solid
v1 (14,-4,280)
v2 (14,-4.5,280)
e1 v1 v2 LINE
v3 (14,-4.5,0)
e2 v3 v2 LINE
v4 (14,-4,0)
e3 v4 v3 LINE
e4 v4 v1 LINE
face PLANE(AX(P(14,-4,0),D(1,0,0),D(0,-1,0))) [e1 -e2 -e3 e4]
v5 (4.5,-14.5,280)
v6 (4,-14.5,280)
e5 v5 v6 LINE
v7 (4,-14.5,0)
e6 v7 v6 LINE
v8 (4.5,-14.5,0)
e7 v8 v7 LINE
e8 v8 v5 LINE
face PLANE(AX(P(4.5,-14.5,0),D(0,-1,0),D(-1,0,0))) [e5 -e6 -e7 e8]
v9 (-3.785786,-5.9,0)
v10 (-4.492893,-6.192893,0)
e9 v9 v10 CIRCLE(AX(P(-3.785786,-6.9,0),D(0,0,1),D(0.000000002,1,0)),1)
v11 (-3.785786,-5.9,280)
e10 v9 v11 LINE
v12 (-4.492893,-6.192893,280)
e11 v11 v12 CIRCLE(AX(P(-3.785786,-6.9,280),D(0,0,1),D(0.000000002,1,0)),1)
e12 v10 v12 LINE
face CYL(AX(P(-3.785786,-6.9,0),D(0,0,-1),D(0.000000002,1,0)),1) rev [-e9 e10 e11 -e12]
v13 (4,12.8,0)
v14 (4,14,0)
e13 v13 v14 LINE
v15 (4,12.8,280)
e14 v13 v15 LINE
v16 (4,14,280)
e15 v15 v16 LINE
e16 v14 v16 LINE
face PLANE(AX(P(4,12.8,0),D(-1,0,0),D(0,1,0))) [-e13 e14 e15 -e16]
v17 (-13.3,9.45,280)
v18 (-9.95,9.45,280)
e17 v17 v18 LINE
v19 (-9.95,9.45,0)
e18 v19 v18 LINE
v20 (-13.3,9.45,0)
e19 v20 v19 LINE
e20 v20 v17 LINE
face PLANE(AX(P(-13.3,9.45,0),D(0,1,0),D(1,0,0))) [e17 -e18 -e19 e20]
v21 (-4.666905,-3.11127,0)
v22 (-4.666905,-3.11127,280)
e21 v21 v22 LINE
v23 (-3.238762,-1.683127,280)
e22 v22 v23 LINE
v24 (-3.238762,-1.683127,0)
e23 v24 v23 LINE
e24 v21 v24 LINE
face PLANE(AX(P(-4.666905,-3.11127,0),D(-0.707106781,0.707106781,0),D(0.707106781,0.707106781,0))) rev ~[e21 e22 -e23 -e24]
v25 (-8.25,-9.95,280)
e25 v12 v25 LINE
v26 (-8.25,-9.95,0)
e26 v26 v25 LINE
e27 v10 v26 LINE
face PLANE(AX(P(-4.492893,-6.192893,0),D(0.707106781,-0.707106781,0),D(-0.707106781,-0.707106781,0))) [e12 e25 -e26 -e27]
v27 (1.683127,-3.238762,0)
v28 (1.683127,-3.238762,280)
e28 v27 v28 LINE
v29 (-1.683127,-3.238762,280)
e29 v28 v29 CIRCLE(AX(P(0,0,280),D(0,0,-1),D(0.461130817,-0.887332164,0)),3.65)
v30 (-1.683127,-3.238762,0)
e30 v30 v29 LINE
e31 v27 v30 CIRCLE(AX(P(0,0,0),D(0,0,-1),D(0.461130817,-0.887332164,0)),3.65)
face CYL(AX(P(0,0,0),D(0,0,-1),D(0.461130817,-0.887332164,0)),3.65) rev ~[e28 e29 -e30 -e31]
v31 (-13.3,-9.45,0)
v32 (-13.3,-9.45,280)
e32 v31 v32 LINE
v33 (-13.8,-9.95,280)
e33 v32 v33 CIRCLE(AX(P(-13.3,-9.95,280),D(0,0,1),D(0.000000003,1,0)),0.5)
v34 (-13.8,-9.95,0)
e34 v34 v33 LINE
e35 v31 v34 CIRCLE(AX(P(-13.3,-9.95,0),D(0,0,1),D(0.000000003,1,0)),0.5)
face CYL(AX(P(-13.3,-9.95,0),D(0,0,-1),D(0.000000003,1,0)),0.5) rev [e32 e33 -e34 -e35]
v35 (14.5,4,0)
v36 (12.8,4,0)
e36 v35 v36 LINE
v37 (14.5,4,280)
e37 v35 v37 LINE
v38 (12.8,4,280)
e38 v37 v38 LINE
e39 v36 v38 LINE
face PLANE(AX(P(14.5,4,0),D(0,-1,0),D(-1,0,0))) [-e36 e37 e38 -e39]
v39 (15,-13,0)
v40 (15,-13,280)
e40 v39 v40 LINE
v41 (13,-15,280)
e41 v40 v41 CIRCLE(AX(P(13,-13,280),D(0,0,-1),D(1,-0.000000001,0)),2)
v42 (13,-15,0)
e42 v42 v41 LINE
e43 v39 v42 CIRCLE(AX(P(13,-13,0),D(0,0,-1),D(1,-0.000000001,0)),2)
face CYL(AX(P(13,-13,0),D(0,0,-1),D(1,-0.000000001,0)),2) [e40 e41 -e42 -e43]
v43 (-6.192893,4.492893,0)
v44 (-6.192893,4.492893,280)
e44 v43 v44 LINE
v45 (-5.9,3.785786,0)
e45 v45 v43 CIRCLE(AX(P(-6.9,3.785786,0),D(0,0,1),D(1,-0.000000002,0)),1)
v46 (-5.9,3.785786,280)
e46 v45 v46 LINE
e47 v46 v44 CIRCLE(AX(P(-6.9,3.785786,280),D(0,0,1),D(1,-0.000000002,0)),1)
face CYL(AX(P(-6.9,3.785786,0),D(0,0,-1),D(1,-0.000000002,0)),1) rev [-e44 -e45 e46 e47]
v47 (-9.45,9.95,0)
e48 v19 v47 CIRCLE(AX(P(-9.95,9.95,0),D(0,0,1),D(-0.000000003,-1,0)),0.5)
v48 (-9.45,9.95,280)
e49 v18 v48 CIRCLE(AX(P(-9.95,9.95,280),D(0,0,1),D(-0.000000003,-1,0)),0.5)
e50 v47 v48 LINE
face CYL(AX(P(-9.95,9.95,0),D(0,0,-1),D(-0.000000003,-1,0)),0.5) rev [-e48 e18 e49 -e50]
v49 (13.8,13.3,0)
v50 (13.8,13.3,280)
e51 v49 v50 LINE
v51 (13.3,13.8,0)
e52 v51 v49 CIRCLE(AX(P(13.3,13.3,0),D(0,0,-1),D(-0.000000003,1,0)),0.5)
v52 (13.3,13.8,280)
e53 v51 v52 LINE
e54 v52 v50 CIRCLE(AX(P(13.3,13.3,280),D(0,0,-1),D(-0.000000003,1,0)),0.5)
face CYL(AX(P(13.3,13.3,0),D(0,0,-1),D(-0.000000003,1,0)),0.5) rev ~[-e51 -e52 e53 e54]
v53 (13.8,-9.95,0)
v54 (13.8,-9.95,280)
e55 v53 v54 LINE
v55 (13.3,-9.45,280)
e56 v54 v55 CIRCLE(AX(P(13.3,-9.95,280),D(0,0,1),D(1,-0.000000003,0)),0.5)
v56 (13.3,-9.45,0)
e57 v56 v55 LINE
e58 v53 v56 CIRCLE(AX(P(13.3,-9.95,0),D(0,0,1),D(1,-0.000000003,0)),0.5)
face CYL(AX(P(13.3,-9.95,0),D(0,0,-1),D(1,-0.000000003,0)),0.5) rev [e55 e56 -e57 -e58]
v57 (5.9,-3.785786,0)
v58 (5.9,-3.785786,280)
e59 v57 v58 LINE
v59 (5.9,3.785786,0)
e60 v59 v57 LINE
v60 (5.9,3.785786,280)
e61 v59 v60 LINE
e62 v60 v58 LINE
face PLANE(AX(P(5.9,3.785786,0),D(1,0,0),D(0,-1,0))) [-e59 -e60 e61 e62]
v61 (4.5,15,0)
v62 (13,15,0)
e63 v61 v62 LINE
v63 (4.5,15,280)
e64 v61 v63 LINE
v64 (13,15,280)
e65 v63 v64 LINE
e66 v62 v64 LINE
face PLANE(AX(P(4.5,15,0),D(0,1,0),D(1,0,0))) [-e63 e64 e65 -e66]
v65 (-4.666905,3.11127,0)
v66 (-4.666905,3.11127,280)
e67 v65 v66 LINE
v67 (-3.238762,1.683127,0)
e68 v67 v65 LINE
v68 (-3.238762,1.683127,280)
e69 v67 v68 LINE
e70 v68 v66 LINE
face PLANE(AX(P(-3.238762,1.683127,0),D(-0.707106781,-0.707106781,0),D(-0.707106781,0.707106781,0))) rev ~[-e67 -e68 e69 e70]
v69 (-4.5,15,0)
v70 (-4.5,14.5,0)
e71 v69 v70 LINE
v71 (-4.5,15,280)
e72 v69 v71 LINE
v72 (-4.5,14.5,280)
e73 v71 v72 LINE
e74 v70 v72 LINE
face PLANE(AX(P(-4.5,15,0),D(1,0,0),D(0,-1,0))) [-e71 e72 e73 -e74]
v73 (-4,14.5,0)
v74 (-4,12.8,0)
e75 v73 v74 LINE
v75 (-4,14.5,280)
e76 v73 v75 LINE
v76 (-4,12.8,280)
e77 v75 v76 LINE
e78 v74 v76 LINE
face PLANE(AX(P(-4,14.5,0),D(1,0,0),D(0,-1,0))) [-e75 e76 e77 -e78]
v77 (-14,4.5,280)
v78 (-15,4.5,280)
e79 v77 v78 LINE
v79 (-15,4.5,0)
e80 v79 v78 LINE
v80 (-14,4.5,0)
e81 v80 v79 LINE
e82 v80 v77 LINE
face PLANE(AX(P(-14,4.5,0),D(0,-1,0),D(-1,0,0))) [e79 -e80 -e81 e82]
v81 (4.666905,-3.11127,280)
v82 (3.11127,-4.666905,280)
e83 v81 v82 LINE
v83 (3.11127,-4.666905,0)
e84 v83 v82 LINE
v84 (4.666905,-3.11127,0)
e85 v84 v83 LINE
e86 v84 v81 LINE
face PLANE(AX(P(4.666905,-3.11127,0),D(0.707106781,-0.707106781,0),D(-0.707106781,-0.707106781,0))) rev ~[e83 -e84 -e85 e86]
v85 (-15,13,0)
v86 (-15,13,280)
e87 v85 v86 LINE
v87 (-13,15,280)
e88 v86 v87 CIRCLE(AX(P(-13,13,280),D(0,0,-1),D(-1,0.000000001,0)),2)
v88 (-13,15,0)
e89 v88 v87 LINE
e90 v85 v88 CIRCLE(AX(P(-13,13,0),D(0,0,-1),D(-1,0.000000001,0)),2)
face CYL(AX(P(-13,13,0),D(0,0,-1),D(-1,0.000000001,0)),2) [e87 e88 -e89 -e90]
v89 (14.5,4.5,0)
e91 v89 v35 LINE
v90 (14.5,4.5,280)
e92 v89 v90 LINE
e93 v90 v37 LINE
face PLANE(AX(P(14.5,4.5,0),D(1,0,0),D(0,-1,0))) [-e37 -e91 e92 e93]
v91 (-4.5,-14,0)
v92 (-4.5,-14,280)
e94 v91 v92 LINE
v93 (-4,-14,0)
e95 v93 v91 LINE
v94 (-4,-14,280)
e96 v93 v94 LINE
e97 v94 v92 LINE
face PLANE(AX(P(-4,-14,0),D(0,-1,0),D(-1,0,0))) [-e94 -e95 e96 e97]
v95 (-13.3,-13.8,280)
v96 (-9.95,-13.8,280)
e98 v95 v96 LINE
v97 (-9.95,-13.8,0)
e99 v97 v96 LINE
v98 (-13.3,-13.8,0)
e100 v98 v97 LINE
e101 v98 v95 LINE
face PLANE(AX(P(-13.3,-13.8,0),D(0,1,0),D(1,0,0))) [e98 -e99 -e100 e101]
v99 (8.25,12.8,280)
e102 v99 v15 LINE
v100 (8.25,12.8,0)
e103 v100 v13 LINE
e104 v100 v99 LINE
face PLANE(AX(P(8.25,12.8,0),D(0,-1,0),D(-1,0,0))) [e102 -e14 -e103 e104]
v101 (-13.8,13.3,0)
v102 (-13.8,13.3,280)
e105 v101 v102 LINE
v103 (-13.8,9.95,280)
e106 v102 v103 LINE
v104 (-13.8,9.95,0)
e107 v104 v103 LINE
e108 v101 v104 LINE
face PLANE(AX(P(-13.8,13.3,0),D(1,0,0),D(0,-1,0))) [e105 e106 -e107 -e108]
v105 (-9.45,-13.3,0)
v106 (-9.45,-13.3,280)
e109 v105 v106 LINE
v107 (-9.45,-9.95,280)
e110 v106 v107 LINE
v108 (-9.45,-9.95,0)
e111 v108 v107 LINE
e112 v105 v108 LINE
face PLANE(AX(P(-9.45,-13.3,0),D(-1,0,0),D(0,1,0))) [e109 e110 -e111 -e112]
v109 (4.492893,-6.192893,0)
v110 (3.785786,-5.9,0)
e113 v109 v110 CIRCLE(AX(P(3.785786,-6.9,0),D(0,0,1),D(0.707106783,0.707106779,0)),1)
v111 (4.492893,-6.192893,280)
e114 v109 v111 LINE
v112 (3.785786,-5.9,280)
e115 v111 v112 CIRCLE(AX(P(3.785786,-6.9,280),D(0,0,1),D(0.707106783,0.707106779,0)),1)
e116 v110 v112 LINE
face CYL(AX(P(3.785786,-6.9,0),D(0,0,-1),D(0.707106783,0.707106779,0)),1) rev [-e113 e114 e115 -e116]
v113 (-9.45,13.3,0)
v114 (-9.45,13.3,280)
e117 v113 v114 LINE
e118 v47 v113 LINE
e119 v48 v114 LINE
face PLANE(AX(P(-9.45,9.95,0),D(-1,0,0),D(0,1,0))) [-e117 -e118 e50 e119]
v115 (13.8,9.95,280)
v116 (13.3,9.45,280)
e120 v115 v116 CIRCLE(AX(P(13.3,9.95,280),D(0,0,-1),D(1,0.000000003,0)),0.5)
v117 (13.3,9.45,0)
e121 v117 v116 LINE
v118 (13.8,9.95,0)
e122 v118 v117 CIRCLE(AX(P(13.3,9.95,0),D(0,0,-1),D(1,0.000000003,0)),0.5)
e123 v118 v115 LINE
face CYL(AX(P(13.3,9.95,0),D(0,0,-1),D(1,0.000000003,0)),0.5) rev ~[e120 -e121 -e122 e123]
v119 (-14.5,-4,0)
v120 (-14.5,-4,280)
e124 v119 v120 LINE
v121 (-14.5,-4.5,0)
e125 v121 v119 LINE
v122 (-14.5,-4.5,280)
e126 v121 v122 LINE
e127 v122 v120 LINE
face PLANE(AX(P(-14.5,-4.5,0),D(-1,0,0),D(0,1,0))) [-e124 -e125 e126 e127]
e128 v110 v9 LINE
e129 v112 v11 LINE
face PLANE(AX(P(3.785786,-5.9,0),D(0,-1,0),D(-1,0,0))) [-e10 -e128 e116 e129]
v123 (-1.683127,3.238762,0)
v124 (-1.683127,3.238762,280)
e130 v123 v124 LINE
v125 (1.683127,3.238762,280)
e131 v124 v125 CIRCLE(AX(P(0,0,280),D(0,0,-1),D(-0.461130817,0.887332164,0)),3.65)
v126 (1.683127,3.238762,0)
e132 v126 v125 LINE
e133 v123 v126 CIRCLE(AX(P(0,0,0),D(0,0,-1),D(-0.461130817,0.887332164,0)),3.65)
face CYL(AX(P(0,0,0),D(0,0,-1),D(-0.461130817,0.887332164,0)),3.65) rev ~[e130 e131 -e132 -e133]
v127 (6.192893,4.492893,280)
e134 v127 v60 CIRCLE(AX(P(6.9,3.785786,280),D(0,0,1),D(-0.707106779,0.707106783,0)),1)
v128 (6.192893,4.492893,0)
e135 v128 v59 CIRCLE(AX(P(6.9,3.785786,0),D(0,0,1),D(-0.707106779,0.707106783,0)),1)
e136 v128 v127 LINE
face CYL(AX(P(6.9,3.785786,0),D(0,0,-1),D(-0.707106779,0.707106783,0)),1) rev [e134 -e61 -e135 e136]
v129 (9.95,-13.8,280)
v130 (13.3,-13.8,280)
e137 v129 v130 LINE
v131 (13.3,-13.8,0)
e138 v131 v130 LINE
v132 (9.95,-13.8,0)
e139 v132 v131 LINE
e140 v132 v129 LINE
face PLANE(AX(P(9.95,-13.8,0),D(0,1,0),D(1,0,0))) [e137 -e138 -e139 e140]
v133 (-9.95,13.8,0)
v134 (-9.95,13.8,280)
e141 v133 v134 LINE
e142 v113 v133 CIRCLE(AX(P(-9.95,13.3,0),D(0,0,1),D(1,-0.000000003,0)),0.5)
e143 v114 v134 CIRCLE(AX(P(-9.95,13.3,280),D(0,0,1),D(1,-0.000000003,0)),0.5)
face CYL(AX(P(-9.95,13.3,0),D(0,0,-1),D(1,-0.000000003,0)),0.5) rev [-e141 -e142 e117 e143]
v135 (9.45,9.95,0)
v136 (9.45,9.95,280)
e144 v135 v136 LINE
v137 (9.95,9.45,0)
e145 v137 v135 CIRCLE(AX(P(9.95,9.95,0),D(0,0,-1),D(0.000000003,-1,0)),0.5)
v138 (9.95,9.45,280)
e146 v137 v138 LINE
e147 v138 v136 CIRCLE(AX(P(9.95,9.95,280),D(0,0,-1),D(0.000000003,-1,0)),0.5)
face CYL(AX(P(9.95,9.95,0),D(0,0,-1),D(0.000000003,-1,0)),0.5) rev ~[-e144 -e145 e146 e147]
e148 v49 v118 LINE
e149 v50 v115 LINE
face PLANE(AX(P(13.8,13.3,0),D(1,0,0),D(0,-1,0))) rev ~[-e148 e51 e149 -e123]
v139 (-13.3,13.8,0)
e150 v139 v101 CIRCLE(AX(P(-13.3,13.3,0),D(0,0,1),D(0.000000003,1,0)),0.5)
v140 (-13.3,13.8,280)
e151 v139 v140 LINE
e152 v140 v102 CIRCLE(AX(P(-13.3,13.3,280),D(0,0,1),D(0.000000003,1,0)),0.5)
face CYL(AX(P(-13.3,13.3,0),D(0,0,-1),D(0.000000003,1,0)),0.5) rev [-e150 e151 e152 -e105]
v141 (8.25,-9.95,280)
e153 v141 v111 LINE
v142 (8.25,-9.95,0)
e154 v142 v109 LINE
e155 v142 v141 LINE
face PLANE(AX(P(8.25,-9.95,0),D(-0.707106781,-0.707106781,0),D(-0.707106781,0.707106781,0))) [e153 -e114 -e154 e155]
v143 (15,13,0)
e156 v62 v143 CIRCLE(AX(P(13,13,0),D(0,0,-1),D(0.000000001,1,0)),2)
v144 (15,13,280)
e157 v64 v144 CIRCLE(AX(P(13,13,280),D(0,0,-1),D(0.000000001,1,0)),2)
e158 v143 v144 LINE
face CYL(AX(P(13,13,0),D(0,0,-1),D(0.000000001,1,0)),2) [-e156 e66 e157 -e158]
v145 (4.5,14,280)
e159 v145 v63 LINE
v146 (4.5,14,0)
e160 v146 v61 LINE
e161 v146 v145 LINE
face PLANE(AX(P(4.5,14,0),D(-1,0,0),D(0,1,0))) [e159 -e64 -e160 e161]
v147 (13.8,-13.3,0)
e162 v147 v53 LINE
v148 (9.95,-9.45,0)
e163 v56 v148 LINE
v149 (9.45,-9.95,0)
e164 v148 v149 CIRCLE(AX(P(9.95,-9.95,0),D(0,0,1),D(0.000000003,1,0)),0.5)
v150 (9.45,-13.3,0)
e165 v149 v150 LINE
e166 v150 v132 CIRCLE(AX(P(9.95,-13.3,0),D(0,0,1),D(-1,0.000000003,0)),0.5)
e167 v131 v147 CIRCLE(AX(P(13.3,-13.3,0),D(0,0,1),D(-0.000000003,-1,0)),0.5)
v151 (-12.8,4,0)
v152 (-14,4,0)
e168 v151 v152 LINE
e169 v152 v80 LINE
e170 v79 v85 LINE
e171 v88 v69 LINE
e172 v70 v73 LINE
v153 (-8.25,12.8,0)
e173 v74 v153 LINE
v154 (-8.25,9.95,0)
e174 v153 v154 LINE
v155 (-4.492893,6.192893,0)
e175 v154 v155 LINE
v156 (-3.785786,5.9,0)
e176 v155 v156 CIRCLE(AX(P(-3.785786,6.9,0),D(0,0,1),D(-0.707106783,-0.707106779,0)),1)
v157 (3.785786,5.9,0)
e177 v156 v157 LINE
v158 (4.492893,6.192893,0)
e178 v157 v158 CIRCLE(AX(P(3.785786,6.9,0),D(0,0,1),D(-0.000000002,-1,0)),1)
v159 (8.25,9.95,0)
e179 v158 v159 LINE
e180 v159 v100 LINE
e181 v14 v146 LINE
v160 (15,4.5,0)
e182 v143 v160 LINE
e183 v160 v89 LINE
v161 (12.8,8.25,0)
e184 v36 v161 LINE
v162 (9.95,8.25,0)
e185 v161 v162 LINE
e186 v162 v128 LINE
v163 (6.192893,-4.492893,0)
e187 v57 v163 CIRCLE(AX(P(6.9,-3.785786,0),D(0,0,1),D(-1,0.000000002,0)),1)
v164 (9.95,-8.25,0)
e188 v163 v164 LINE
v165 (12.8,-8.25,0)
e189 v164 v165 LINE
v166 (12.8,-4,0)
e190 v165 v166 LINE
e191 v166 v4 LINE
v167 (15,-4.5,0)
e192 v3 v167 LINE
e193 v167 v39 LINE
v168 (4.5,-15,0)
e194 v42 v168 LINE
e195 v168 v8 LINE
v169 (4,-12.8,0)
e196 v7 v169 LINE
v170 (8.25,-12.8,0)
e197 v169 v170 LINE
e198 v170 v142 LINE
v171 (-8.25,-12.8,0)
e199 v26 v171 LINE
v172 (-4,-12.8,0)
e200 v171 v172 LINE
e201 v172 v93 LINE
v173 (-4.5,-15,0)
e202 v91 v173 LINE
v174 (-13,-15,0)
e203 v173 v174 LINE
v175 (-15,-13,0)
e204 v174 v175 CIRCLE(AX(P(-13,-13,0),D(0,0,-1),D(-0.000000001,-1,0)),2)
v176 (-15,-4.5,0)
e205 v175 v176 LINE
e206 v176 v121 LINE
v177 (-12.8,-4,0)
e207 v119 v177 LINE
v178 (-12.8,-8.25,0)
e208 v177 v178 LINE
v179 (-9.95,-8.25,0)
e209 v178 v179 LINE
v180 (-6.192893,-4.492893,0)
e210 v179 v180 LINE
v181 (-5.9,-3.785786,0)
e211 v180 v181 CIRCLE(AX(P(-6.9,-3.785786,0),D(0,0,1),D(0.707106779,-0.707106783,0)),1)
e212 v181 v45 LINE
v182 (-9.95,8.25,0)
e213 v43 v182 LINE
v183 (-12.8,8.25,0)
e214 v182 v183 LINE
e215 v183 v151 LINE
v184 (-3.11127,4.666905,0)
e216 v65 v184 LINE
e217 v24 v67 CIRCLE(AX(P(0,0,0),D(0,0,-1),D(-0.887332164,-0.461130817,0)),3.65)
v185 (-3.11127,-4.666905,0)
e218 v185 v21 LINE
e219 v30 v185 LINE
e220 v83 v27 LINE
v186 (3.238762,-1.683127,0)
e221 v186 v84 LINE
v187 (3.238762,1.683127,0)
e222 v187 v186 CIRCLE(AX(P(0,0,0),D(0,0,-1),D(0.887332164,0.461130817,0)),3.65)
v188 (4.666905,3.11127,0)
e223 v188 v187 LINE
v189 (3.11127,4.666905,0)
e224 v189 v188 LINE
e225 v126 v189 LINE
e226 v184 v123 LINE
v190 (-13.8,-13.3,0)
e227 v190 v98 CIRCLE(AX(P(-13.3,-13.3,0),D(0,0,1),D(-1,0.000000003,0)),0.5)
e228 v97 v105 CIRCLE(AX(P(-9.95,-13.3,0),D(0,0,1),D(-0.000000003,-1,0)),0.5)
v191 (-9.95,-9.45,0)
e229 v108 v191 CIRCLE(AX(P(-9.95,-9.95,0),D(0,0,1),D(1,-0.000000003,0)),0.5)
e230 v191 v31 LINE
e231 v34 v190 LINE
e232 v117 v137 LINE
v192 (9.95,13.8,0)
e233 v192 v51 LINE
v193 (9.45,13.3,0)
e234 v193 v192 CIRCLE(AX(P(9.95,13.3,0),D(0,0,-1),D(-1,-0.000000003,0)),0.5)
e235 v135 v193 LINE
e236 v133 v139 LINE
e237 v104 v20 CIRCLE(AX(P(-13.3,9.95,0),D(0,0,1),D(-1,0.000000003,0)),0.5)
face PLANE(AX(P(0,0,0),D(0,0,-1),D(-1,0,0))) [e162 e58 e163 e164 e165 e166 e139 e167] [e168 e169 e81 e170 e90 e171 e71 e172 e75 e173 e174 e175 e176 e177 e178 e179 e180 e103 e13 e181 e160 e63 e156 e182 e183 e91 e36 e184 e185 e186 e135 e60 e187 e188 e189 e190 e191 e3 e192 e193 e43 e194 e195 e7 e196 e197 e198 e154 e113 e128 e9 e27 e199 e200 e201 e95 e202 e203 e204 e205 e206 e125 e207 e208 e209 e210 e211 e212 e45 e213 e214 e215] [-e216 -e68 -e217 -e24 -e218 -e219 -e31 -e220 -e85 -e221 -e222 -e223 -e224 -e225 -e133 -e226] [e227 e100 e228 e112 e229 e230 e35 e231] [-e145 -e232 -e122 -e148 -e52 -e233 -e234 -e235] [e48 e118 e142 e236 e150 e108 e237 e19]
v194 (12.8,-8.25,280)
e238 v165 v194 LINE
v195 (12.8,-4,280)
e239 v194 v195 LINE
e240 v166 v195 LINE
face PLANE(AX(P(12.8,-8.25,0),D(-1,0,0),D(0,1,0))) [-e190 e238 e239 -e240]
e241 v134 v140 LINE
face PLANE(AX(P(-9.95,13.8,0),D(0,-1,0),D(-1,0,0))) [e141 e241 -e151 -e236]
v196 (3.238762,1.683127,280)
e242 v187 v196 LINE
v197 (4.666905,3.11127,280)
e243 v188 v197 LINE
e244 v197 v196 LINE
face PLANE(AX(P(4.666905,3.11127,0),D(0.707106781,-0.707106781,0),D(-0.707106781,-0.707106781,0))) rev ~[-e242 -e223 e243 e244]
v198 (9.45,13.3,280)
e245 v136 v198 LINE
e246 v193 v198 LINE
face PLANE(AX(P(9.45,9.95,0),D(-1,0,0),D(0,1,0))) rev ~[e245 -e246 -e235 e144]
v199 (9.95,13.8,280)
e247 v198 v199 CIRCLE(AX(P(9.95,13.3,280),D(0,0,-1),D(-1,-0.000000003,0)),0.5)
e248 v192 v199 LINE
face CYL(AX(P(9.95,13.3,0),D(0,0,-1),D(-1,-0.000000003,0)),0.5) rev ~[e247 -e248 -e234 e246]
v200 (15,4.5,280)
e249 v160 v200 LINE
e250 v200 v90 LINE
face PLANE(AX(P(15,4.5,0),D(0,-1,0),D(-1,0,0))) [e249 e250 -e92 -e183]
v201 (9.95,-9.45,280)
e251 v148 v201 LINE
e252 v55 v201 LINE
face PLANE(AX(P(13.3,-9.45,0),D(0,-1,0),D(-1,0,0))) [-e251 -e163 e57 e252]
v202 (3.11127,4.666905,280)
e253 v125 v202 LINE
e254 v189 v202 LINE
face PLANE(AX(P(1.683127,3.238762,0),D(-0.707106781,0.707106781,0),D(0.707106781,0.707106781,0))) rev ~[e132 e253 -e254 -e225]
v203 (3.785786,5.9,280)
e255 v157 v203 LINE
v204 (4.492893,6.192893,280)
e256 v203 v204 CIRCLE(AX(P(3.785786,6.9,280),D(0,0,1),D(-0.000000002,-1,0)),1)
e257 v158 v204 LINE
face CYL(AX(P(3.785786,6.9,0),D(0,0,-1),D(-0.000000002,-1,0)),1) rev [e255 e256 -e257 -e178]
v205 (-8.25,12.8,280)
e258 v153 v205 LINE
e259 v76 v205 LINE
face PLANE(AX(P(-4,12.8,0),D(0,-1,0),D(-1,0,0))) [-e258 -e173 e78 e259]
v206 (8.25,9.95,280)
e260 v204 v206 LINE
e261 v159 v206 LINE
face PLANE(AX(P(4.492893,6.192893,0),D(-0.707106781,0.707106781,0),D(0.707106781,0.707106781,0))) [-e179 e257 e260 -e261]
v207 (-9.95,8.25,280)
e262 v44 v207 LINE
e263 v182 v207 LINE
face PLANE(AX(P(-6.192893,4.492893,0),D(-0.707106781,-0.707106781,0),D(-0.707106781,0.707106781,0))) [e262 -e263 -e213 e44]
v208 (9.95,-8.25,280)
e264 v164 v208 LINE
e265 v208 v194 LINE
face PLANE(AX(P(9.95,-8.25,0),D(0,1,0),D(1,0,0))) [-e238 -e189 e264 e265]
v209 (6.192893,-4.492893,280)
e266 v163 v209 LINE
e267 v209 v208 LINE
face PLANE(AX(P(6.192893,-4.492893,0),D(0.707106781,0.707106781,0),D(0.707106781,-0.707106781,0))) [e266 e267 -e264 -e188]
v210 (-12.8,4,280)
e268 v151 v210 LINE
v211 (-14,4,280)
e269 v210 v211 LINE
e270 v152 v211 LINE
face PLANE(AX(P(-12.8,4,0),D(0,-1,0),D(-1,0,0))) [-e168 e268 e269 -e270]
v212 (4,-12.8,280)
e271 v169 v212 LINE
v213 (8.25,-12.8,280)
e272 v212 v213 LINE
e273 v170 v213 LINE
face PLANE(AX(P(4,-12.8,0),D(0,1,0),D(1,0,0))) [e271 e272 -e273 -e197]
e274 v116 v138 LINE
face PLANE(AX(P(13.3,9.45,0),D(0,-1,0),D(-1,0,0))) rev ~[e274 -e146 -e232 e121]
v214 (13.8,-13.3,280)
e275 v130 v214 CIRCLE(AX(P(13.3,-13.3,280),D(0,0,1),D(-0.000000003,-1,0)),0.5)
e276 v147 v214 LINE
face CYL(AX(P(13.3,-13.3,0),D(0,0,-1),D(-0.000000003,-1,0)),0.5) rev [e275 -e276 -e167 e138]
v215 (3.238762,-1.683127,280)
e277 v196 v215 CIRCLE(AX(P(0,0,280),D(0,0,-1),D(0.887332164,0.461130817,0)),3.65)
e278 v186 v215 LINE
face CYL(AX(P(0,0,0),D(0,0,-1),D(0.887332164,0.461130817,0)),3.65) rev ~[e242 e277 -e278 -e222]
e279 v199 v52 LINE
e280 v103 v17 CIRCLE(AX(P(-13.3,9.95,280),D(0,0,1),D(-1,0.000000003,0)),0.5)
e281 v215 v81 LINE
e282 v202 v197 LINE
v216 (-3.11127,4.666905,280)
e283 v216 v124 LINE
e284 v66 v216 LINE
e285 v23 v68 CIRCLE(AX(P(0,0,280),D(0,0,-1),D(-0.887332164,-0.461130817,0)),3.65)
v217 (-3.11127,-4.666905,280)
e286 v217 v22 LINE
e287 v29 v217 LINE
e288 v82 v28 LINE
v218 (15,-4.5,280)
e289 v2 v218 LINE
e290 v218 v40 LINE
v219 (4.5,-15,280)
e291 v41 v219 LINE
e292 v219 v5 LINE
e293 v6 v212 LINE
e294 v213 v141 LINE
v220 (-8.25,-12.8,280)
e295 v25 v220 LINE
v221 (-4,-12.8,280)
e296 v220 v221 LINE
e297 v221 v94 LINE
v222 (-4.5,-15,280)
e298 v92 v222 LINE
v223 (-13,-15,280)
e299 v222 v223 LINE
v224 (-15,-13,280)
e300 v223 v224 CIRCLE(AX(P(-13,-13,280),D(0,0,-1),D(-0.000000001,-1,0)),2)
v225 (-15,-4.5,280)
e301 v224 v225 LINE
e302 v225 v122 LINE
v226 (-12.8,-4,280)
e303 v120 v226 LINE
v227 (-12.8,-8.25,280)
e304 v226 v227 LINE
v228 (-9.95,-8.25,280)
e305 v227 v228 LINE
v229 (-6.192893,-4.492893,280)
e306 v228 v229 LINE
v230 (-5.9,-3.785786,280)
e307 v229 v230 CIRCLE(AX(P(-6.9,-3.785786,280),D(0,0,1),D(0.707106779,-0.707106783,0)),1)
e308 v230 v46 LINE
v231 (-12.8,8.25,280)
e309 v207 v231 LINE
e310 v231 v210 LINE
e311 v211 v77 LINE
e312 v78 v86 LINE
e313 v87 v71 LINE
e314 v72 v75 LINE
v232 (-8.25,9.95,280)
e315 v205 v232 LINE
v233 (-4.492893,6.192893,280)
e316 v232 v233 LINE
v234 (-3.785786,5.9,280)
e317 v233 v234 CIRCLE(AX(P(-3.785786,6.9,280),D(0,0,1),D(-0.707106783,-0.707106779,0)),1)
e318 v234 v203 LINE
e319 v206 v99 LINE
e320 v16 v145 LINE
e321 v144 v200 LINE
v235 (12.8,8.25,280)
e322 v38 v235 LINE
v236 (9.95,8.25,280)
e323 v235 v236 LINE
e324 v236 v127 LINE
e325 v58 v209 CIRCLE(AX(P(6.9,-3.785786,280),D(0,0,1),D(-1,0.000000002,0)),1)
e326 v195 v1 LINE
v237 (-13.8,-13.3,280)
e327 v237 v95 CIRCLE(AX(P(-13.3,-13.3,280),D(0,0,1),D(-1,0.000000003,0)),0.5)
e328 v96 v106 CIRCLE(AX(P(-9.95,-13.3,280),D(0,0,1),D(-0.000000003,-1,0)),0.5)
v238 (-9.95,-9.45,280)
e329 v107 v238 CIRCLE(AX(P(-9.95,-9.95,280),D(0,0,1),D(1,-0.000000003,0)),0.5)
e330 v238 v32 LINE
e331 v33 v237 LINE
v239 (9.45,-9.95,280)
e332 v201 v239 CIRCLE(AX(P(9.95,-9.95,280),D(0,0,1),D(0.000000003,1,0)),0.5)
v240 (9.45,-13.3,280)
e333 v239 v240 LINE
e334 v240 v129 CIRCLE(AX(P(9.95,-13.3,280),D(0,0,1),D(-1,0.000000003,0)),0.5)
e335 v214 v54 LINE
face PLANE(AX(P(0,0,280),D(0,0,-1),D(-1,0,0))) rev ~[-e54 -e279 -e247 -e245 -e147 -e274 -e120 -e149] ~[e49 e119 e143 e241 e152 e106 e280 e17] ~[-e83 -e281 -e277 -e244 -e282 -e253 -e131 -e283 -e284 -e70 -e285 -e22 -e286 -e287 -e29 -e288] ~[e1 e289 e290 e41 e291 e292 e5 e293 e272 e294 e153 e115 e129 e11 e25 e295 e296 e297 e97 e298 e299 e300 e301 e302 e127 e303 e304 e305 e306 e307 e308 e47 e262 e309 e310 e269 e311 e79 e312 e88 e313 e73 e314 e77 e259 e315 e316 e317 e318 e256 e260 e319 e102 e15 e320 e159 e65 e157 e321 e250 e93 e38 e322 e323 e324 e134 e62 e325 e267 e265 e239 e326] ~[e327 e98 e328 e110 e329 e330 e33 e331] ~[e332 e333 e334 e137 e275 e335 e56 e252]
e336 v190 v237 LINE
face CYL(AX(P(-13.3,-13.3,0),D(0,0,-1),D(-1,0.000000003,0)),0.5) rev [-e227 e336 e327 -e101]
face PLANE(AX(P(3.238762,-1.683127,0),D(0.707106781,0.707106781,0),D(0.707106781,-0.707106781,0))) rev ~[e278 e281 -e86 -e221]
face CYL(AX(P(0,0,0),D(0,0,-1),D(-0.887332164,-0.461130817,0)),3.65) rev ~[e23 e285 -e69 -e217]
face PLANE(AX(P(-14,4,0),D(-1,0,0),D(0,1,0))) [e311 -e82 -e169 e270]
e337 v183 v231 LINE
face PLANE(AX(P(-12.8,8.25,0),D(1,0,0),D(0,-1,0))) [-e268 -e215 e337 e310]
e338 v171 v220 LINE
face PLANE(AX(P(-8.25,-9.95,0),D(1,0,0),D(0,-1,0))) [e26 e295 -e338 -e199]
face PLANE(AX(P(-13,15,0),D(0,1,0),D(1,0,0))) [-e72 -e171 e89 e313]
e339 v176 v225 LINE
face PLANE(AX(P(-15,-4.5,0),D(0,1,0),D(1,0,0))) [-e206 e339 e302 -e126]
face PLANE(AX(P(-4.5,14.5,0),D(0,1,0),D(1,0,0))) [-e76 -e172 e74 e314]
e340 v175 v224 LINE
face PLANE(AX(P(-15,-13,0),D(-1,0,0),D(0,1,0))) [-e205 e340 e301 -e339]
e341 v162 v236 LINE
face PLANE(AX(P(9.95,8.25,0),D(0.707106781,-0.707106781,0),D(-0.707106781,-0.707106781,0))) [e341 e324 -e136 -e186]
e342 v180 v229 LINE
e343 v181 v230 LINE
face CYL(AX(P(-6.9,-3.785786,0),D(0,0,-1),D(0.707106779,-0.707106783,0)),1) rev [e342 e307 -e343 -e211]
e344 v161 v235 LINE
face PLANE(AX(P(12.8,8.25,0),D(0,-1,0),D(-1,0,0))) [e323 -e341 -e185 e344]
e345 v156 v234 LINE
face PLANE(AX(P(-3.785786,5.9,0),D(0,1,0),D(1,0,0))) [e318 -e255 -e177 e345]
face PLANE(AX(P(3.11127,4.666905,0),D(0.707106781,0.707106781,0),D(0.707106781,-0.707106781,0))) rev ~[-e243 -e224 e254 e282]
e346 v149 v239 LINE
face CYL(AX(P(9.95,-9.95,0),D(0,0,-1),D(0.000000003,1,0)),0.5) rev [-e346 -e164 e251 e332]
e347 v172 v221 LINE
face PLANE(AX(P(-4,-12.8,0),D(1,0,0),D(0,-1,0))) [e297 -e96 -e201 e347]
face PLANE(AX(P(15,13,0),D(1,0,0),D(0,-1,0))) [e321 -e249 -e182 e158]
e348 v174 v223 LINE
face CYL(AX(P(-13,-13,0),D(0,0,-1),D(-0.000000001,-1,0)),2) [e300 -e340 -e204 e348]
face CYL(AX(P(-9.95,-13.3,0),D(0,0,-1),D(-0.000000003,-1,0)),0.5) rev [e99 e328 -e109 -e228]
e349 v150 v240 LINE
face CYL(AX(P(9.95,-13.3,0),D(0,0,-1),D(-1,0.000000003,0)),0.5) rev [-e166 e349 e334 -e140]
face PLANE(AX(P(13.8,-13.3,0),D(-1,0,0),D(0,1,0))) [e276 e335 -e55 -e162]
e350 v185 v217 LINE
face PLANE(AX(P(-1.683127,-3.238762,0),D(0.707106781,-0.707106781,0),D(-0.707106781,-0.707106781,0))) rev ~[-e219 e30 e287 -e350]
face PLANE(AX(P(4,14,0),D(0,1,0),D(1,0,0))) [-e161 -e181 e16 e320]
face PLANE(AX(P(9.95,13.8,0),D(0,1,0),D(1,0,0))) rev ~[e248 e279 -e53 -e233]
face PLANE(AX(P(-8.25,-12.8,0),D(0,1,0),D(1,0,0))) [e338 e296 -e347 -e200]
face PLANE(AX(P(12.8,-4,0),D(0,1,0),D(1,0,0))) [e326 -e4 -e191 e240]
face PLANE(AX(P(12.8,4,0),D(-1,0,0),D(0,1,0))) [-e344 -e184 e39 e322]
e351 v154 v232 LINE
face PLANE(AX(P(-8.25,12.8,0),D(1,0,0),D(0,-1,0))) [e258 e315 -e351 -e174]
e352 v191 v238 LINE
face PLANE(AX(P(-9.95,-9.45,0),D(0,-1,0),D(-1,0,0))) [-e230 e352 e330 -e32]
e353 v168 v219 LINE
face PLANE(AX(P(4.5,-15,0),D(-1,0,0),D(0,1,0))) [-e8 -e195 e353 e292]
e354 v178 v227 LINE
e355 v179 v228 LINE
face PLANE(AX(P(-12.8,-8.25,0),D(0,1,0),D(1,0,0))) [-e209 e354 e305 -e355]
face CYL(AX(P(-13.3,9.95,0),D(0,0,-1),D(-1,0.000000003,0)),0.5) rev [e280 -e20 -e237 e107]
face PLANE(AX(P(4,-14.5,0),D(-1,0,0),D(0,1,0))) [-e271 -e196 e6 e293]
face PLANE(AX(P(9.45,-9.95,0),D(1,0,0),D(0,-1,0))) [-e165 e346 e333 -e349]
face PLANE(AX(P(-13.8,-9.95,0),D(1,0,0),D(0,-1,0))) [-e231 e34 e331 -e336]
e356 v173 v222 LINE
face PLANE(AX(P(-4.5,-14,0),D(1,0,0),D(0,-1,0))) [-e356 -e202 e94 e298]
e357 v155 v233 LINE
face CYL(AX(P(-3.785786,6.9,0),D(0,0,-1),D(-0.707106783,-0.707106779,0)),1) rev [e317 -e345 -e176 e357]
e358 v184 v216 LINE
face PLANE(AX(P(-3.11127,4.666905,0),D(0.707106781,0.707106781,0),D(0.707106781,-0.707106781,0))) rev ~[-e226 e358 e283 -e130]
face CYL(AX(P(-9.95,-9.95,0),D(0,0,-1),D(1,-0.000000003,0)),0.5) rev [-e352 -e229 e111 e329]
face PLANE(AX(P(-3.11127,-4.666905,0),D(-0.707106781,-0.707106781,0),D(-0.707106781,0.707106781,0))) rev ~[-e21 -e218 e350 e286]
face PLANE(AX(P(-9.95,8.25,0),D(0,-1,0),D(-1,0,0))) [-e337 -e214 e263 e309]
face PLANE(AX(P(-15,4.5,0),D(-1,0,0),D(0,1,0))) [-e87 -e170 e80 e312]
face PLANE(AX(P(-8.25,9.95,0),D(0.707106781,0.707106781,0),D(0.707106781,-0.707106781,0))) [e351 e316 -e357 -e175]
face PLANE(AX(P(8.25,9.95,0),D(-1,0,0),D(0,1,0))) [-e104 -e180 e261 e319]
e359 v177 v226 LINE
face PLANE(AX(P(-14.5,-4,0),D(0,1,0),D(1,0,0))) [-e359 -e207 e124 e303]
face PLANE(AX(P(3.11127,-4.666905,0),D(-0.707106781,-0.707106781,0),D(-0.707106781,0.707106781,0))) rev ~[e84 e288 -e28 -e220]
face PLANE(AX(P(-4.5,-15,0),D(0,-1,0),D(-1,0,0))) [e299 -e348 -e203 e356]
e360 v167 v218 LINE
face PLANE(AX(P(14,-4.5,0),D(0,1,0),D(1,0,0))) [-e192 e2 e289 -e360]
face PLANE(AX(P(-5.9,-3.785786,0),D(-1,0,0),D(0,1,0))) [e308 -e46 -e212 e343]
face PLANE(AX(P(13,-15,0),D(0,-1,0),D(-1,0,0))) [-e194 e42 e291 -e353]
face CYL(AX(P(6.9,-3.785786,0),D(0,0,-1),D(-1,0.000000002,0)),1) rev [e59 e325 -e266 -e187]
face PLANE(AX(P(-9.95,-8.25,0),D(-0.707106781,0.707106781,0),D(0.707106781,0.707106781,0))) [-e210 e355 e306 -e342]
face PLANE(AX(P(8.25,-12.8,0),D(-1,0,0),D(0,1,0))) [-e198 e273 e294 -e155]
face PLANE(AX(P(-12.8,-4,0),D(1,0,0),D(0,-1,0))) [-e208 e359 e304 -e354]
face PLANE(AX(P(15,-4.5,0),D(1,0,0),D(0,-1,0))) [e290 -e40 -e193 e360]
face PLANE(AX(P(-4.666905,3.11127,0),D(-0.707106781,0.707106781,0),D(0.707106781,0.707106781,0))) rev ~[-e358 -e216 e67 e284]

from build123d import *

# Parameters (mm, degrees)
BOSS_EXTRUDE1_DEPTH = 280


with BuildPart() as part:
    # Sketch1 → Boss-Extrude1 (new body)
    with BuildSketch(Plane.XY):
        with BuildLine():
            Line((-4.5, 14.5), (-4.5, 15))
            Line((-4.5, 15), (-13, 15))
            ThreePointArc((-13, 15), (-14.414213562, 14.414213562), (-15, 13))
            Line((-15, 13), (-15, 4.5))
            Line((-15, 4.5), (-14, 4.5))
            Line((-14, 4.5), (-14, 4))
            Line((-14, 4), (-12.8, 4))
            Line((-12.8, 4), (-12.8, 8.25))
            Line((-12.8, 8.25), (-9.95, 8.25))
            Line((-9.95, 8.25), (-6.192893219, 4.492893219))
            ThreePointArc((-6.192893219, 4.492893219), (-5.976120467, 4.16846987), (-5.9, 3.785786438))
            Line((-5.9, 3.785786438), (-5.9, -3.785786438))
            ThreePointArc((-5.9, -3.785786438), (-5.976120467, -4.16846987), (-6.192893219, -4.492893219))
            Line((-6.192893219, -4.492893219), (-9.95, -8.25))
            Line((-9.95, -8.25), (-12.8, -8.25))
            Line((-12.8, -8.25), (-12.8, -4))
            Line((-12.8, -4), (-14.5, -4))
            Line((-14.5, -4), (-14.5, -4.5))
            Line((-14.5, -4.5), (-15, -4.5))
            Line((-15, -4.5), (-15, -13))
            ThreePointArc((-15, -13), (-14.414213562, -14.414213562), (-13, -15))
            Line((-13, -15), (-4.5, -15))
            Line((-4.5, -15), (-4.5, -14))
            Line((-4.5, -14), (-4, -14))
            Line((-4, -14), (-4, -12.8))
            Line((-4, -12.8), (-8.25, -12.8))
            Line((-8.25, -12.8), (-8.25, -9.95))
            Line((-8.25, -9.95), (-4.492893219, -6.192893219))
            ThreePointArc((-4.492893219, -6.192893219), (-4.16846987, -5.976120467), (-3.785786438, -5.9))
            Line((-3.785786438, -5.9), (3.785786438, -5.9))
            ThreePointArc((3.785786438, -5.9), (4.16846987, -5.976120467), (4.492893219, -6.192893219))
            Line((4.492893219, -6.192893219), (8.25, -9.95))
            Line((8.25, -9.95), (8.25, -12.8))
            Line((8.25, -12.8), (4, -12.8))
            Line((4, -12.8), (4, -14.5))
            Line((4, -14.5), (4.5, -14.5))
            Line((4.5, -14.5), (4.5, -15))
            Line((4.5, -15), (13, -15))
            ThreePointArc((13, -15), (14.414213562, -14.414213562), (15, -13))
            Line((15, -13), (15, -4.5))
            Line((15, -4.5), (14, -4.5))
            Line((14, -4.5), (14, -4))
            Line((14, -4), (12.8, -4))
            Line((12.8, -4), (12.8, -8.25))
            Line((12.8, -8.25), (9.95, -8.25))
            Line((9.95, -8.25), (6.192893219, -4.492893219))
            ThreePointArc((6.192893219, -4.492893219), (5.976120467, -4.16846987), (5.9, -3.785786438))
            Line((5.9, -3.785786438), (5.9, 3.785786438))
            ThreePointArc((5.9, 3.785786438), (5.976120467, 4.16846987), (6.192893219, 4.492893219))
            Line((6.192893219, 4.492893219), (9.95, 8.25))
            Line((9.95, 8.25), (12.8, 8.25))
            Line((12.8, 8.25), (12.8, 4))
            Line((12.8, 4), (14.5, 4))
            Line((14.5, 4), (14.5, 4.5))
            Line((14.5, 4.5), (15, 4.5))
            Line((15, 4.5), (15, 13))
            ThreePointArc((15, 13), (14.414213562, 14.414213562), (13, 15))
            Line((13, 15), (4.5, 15))
            Line((4.5, 15), (4.5, 14))
            Line((4.5, 14), (4, 14))
            Line((4, 14), (4, 12.8))
            Line((4, 12.8), (8.25, 12.8))
            Line((8.25, 12.8), (8.25, 9.95))
            Line((8.25, 9.95), (4.492893219, 6.192893219))
            ThreePointArc((4.492893219, 6.192893219), (4.16846987, 5.976120467), (3.785786438, 5.9))
            Line((3.785786438, 5.9), (-3.785786438, 5.9))
            ThreePointArc((-3.785786438, 5.9), (-4.16846987, 5.976120467), (-4.492893219, 6.192893219))
            Line((-4.492893219, 6.192893219), (-8.25, 9.95))
            Line((-8.25, 9.95), (-8.25, 12.8))
            Line((-8.25, 12.8), (-4, 12.8))
            Line((-4, 12.8), (-4, 14.5))
            Line((-4, 14.5), (-4.5, 14.5))
        make_face()
        with BuildLine():
            Line((-9.45, -9.95), (-9.45, -13.3))
            ThreePointArc((-9.45, -13.3), (-9.596446609, -13.653553391), (-9.95, -13.8))
            Line((-9.95, -13.8), (-13.3, -13.8))
            ThreePointArc((-13.3, -13.8), (-13.653553391, -13.653553391), (-13.8, -13.3))
            Line((-13.8, -13.3), (-13.8, -9.95))
            ThreePointArc((-13.8, -9.95), (-13.653553391, -9.596446609), (-13.3, -9.45))
            Line((-13.3, -9.45), (-9.95, -9.45))
            ThreePointArc((-9.95, -9.45), (-9.596446609, -9.596446609), (-9.45, -9.95))
        make_face(mode=Mode.SUBTRACT)
        with BuildLine():
            Line((9.95, -9.45), (13.3, -9.45))
            ThreePointArc((13.3, -9.45), (13.653553391, -9.596446609), (13.8, -9.95))
            Line((13.8, -9.95), (13.8, -13.3))
            ThreePointArc((13.8, -13.3), (13.653553391, -13.653553391), (13.3, -13.8))
            Line((13.3, -13.8), (9.95, -13.8))
            ThreePointArc((9.95, -13.8), (9.596446609, -13.653553391), (9.45, -13.3))
            Line((9.45, -13.3), (9.45, -9.95))
            ThreePointArc((9.45, -9.95), (9.596446609, -9.596446609), (9.95, -9.45))
        make_face(mode=Mode.SUBTRACT)
        with BuildLine():
            Line((-9.95, 9.45), (-13.3, 9.45))
            ThreePointArc((-13.3, 9.45), (-13.653553391, 9.596446609), (-13.8, 9.95))
            Line((-13.8, 9.95), (-13.8, 13.3))
            ThreePointArc((-13.8, 13.3), (-13.653553391, 13.653553391), (-13.3, 13.8))
            Line((-13.3, 13.8), (-9.95, 13.8))
            ThreePointArc((-9.95, 13.8), (-9.596446609, 13.653553391), (-9.45, 13.3))
            Line((-9.45, 13.3), (-9.45, 9.95))
            ThreePointArc((-9.45, 9.95), (-9.596446609, 9.596446609), (-9.95, 9.45))
        make_face(mode=Mode.SUBTRACT)
        with BuildLine():
            ThreePointArc((1.683127481, -3.2387624), (0, -3.65), (-1.683127481, -3.2387624))
            Line((-1.683127481, -3.2387624), (-3.111269837, -4.666904756))
            Line((-3.111269837, -4.666904756), (-4.666904756, -3.111269837))
            Line((-4.666904756, -3.111269837), (-3.2387624, -1.683127481))
            ThreePointArc((-3.2387624, -1.683127481), (-3.65, 0), (-3.2387624, 1.683127481))
            Line((-3.2387624, 1.683127481), (-4.666904756, 3.111269837))
            Line((-4.666904756, 3.111269837), (-3.111269837, 4.666904756))
            Line((-3.111269837, 4.666904756), (-1.683127481, 3.2387624))
            ThreePointArc((-1.683127481, 3.2387624), (0, 3.65), (1.683127481, 3.2387624))
            Line((1.683127481, 3.2387624), (3.111269837, 4.666904756))
            Line((3.111269837, 4.666904756), (4.666904756, 3.111269837))
            Line((4.666904756, 3.111269837), (3.2387624, 1.683127481))
            ThreePointArc((3.2387624, 1.683127481), (3.65, 0), (3.2387624, -1.683127481))
            Line((3.2387624, -1.683127481), (4.666904756, -3.111269837))
            Line((4.666904756, -3.111269837), (3.111269837, -4.666904756))
            Line((3.111269837, -4.666904756), (1.683127481, -3.2387624))
        make_face(mode=Mode.SUBTRACT)
        with BuildLine():
            ThreePointArc((9.45, 13.3), (9.596446609, 13.653553391), (9.95, 13.8))
            Line((9.95, 13.8), (13.3, 13.8))
            ThreePointArc((13.3, 13.8), (13.653553391, 13.653553391), (13.8, 13.3))
            Line((13.8, 13.3), (13.8, 9.95))
            ThreePointArc((13.8, 9.95), (13.653553391, 9.596446609), (13.3, 9.45))
            Line((13.3, 9.45), (9.95, 9.45))
            ThreePointArc((9.95, 9.45), (9.596446609, 9.596446609), (9.45, 9.95))
            Line((9.45, 9.95), (9.45, 13.3))
        make_face(mode=Mode.SUBTRACT)
    extrude(amount=BOSS_EXTRUDE1_DEPTH)


solid = part.part
